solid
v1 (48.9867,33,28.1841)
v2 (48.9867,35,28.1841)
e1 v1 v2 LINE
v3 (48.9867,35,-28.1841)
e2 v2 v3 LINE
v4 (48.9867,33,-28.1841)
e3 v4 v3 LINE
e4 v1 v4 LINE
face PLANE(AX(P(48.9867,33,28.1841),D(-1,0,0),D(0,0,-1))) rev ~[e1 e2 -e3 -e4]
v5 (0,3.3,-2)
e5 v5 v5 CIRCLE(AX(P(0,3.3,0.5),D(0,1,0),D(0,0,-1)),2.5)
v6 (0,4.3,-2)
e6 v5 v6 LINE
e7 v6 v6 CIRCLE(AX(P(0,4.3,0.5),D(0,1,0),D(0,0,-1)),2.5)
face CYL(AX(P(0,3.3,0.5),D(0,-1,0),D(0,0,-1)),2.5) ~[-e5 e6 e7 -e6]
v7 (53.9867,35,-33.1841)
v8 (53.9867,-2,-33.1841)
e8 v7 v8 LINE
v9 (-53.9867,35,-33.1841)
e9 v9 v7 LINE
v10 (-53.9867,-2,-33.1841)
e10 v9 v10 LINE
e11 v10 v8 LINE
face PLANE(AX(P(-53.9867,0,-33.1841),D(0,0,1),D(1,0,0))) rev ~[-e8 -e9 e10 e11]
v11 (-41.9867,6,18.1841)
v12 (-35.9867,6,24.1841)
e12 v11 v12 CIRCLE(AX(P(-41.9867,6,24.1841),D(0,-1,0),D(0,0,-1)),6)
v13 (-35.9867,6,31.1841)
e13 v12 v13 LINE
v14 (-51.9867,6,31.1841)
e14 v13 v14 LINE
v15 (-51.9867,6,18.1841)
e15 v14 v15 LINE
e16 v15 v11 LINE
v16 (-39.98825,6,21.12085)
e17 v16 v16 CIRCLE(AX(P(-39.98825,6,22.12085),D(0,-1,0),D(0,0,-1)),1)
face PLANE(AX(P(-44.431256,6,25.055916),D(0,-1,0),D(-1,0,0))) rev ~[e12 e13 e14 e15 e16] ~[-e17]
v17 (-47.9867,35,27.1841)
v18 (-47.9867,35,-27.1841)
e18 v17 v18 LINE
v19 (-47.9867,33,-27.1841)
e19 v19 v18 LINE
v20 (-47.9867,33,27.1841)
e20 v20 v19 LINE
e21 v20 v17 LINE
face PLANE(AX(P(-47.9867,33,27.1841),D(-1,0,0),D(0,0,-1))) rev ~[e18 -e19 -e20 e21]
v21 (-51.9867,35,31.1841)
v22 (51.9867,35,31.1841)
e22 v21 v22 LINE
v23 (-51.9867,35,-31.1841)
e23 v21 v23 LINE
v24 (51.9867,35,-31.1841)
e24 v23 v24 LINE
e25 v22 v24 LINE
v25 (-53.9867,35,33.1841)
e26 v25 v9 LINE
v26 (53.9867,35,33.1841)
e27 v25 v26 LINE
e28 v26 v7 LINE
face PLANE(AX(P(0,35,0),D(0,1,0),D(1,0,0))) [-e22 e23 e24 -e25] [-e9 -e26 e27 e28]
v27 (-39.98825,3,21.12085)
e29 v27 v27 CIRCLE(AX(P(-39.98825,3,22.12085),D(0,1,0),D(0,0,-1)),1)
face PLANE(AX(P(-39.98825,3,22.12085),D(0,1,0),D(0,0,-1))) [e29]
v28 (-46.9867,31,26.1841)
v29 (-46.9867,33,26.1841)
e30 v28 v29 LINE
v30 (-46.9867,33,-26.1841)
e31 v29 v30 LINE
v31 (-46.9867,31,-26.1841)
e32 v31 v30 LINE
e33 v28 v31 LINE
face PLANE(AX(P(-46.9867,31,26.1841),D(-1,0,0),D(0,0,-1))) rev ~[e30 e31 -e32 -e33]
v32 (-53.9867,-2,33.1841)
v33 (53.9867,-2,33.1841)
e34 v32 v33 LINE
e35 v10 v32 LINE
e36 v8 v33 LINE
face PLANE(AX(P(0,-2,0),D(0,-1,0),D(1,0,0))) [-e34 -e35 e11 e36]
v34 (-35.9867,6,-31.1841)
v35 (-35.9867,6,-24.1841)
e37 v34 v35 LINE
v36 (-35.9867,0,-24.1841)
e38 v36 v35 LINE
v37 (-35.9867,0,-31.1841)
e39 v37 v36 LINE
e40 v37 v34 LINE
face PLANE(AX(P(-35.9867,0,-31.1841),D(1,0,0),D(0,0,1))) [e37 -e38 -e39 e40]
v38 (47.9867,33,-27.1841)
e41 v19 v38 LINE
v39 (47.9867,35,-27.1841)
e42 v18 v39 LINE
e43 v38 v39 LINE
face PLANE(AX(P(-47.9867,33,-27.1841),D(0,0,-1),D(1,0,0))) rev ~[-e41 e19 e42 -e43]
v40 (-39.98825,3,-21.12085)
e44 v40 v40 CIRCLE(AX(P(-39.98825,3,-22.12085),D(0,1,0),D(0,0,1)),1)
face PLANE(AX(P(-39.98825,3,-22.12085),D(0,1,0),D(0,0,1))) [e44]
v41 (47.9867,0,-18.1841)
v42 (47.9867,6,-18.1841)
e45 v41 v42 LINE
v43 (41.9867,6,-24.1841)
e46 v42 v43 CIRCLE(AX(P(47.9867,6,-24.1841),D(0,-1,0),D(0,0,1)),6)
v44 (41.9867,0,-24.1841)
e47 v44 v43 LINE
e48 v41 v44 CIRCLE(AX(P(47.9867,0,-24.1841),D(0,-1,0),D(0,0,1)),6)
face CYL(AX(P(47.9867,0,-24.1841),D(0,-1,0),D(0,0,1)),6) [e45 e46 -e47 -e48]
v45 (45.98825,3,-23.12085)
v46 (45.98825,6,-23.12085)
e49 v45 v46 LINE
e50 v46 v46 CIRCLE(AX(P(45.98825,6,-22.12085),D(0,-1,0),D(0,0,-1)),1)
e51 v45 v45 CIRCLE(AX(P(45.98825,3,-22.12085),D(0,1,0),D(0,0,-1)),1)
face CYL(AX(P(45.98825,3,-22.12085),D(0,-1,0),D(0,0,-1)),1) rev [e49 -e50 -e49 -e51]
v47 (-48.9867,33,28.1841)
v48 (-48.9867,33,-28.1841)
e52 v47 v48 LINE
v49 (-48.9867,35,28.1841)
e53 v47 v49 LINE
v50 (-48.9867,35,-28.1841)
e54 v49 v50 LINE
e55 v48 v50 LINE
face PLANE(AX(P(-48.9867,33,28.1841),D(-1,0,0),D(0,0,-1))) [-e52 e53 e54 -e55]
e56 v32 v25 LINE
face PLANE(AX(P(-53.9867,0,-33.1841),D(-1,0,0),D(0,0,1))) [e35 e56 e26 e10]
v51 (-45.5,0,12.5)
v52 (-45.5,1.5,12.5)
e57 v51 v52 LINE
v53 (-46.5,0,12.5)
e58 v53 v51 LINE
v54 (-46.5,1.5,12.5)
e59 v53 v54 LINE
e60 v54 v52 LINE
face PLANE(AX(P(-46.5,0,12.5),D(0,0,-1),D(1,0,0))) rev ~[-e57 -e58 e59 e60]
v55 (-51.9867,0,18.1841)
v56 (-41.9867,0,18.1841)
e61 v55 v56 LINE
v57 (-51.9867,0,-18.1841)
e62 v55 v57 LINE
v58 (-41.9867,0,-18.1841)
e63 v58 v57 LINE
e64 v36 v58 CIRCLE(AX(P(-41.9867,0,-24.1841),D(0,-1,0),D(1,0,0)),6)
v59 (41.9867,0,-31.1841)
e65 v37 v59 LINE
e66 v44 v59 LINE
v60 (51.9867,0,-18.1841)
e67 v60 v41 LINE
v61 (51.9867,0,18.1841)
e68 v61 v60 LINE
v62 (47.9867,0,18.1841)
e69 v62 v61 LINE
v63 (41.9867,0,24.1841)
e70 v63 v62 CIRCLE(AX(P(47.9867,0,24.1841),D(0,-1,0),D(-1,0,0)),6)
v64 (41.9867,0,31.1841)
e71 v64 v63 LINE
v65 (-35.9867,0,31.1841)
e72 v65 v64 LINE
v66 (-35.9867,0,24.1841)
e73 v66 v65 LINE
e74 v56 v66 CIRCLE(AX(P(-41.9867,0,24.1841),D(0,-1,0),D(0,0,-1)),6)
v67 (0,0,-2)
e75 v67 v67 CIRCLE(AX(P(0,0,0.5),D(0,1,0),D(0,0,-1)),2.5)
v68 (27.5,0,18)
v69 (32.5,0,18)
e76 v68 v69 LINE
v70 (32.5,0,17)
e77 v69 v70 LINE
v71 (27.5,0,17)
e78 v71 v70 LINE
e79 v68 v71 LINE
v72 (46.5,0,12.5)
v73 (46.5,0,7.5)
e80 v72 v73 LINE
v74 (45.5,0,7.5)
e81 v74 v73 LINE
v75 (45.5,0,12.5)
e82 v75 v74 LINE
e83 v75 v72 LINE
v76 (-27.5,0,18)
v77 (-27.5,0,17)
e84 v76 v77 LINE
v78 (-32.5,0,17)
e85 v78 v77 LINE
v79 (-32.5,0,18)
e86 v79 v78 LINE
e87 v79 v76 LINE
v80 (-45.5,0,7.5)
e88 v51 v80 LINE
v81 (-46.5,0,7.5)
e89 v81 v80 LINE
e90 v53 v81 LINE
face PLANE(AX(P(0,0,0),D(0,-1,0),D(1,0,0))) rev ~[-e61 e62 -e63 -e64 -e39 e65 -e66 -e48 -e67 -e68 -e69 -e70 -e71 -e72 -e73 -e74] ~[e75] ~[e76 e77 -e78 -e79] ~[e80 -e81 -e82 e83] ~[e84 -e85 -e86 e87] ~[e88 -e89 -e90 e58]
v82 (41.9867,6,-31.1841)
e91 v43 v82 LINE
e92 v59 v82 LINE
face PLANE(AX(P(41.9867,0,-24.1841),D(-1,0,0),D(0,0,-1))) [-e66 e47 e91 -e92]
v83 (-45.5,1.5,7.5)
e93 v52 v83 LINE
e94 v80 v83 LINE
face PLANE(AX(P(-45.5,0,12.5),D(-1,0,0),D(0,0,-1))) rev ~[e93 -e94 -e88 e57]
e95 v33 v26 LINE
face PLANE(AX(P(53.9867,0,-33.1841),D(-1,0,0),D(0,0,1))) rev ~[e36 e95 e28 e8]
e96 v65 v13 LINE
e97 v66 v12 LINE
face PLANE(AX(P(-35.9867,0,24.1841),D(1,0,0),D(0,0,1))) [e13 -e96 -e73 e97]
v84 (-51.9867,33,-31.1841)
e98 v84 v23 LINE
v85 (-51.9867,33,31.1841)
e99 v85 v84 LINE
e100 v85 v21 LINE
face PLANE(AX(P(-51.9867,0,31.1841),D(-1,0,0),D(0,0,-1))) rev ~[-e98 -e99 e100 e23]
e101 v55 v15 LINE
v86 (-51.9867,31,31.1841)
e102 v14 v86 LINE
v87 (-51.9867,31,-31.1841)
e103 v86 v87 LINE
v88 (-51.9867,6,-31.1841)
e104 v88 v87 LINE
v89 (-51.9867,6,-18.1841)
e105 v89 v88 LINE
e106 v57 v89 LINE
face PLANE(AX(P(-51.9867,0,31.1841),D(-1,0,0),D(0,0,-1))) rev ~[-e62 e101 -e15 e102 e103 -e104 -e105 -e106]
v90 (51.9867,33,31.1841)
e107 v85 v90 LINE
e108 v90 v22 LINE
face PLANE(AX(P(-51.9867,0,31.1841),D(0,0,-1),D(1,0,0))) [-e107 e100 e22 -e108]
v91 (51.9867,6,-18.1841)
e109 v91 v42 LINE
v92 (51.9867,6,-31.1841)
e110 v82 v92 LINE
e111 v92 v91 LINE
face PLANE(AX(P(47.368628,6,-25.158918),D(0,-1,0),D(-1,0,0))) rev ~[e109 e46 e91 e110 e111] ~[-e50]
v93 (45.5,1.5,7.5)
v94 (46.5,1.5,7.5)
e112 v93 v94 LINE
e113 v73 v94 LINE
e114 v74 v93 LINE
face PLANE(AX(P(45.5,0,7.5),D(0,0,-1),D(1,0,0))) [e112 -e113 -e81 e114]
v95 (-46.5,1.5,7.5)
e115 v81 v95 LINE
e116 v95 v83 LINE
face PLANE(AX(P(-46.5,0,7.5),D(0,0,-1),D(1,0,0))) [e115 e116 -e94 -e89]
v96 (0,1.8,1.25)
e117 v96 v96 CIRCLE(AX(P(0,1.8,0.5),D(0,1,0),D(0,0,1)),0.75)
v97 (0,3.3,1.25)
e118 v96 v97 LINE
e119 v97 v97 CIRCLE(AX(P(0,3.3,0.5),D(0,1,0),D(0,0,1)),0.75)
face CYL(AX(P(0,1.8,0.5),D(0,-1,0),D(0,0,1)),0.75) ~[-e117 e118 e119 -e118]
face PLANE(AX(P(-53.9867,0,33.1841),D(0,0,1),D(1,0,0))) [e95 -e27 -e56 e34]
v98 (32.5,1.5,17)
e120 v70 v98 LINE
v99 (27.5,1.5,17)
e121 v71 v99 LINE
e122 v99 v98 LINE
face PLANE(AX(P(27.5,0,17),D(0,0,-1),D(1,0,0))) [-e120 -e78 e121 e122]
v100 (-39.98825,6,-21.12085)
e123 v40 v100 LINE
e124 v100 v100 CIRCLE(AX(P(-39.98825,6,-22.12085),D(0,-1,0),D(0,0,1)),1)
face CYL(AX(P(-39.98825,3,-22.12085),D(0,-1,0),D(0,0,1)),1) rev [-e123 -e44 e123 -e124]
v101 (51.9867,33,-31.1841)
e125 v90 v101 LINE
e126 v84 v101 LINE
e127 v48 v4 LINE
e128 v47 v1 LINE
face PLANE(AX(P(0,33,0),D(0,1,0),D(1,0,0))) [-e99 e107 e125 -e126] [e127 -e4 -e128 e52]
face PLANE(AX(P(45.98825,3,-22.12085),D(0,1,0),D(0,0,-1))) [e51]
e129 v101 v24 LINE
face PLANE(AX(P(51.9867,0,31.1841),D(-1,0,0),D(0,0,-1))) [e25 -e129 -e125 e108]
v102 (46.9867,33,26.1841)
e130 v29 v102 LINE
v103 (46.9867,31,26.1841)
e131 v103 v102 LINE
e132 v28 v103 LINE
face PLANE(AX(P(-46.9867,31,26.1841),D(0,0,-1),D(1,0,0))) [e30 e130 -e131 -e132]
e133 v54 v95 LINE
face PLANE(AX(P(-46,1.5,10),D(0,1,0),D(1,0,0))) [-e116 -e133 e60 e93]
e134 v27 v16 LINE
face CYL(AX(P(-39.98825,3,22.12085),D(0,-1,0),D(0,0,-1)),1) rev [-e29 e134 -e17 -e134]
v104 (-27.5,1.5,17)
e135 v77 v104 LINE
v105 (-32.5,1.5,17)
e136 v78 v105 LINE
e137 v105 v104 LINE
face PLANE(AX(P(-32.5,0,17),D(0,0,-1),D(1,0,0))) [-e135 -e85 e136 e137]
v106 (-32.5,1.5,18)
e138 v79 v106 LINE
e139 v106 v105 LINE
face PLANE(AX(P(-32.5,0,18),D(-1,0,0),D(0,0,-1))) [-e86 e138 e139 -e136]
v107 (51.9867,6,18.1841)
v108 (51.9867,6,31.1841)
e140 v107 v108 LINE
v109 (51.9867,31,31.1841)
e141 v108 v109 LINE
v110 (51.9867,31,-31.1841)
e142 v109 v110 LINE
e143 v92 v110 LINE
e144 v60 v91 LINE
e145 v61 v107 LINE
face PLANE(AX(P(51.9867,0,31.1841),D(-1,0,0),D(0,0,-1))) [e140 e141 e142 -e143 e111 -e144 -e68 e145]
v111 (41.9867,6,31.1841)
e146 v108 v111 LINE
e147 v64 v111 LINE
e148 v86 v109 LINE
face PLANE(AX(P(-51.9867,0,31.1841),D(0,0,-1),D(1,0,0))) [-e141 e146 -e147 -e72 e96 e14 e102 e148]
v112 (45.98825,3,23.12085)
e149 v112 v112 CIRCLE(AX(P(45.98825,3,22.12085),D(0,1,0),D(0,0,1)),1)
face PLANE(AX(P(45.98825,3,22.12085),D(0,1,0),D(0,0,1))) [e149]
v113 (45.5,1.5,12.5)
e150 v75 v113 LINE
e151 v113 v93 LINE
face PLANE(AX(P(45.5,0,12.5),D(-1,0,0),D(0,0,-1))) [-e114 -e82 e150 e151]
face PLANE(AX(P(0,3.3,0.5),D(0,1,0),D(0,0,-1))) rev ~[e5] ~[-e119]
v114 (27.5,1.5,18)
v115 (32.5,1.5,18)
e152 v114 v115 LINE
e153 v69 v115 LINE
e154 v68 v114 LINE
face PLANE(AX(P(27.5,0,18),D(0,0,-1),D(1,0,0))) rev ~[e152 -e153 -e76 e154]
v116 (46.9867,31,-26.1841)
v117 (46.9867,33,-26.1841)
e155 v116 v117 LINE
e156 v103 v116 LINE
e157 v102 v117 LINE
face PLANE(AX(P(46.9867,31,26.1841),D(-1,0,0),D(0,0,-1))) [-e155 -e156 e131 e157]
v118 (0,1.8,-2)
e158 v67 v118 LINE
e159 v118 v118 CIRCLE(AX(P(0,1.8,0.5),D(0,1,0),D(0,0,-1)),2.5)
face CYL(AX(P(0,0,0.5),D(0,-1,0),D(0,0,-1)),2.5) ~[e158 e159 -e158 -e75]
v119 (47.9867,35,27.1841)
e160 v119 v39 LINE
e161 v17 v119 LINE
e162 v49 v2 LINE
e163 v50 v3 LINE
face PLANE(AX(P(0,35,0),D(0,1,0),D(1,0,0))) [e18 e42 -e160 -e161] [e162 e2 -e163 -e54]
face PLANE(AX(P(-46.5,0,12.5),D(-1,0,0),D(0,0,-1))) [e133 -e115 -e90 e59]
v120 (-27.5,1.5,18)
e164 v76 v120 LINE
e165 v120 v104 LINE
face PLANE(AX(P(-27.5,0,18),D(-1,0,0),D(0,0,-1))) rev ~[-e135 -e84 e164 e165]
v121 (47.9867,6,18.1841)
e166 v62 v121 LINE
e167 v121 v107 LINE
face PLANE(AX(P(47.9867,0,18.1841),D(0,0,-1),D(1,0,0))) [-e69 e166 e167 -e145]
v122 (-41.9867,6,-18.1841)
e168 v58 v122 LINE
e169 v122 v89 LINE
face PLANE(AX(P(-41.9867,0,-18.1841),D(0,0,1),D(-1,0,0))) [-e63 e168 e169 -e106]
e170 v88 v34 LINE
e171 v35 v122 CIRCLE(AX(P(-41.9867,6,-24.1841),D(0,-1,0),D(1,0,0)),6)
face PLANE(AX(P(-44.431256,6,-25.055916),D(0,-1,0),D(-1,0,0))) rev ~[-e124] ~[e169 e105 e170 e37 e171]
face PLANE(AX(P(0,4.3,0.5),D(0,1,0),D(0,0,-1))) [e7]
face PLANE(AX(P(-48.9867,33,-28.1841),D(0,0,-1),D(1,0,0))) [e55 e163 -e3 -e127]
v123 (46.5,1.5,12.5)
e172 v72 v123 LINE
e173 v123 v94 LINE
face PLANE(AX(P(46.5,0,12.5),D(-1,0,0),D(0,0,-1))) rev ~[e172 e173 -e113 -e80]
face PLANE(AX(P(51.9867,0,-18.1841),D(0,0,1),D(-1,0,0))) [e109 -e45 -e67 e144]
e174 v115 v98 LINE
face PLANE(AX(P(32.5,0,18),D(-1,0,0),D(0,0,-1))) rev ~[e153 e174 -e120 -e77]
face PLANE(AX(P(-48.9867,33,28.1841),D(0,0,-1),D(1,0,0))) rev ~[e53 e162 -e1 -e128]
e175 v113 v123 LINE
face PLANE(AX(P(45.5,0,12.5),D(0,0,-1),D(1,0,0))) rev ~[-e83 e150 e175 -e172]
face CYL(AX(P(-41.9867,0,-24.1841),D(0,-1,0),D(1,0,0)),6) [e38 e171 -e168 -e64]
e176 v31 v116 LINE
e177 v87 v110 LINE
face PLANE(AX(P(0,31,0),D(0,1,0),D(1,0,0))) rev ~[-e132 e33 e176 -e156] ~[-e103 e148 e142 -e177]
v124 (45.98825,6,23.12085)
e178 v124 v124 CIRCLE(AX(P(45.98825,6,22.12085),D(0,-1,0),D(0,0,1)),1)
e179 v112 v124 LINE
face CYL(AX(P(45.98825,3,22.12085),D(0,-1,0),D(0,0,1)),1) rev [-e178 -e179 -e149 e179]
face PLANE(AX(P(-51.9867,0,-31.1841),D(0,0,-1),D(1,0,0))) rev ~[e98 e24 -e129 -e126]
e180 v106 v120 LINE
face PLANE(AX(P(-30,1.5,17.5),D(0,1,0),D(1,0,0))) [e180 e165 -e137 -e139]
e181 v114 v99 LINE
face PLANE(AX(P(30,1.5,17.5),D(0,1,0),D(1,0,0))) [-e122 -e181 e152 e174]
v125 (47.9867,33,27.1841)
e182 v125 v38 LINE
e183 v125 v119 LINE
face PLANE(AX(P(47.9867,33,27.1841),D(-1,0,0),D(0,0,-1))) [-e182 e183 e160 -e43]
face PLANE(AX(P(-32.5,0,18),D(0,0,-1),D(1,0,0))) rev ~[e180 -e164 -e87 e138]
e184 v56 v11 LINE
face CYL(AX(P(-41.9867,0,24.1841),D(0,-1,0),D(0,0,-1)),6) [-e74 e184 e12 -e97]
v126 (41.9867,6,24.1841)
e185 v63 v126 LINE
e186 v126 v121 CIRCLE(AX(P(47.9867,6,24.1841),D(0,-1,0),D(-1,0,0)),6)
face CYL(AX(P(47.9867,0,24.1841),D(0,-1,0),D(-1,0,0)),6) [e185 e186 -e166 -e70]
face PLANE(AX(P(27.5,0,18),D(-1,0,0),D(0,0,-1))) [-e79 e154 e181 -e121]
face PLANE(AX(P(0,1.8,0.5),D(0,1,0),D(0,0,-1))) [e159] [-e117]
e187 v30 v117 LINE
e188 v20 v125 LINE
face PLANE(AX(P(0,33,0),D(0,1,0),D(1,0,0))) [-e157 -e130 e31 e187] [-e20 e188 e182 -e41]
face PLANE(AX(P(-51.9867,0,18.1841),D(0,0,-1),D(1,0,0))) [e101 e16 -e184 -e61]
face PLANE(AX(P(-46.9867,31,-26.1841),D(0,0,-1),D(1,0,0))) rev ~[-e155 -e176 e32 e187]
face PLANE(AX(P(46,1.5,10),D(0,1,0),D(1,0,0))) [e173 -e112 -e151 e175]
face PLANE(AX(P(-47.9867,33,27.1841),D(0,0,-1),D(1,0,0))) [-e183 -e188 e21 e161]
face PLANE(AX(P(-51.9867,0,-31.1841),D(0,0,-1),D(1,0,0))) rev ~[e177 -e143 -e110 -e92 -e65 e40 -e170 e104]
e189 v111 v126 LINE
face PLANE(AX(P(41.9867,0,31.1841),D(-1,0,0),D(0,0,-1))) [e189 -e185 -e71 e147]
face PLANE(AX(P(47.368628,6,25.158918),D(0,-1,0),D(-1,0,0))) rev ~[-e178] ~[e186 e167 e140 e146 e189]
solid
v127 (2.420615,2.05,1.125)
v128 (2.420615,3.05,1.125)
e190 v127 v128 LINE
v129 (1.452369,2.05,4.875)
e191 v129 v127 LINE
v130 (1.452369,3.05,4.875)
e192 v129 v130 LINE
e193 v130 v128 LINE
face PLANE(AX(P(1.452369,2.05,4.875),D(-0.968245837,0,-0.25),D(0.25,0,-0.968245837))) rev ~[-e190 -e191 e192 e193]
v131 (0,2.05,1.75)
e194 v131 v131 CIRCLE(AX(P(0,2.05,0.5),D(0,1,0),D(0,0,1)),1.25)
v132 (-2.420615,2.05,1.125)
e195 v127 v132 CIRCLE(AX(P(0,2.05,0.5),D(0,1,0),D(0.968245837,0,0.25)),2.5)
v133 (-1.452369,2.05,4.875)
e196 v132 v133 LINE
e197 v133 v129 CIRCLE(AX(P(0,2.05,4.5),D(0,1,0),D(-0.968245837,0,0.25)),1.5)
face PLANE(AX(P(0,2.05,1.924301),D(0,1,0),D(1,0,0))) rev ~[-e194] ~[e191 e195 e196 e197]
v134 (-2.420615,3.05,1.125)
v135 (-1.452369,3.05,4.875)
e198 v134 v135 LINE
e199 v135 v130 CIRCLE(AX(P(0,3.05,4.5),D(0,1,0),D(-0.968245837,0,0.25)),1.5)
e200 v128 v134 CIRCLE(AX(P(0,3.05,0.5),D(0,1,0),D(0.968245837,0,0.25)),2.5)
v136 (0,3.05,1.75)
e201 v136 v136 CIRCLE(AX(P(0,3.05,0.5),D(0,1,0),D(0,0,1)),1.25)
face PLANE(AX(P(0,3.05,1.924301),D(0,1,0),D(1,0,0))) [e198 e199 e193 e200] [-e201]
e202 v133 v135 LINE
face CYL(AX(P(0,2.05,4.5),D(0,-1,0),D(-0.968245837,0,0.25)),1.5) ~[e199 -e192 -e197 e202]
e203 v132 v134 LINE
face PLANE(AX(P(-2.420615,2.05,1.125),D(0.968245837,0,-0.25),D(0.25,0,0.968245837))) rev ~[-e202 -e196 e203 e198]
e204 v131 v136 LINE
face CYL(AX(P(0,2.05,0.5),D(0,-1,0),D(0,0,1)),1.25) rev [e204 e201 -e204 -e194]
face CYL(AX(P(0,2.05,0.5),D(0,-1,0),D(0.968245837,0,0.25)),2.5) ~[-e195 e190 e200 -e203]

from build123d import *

# Parameters (mm, degrees)
SKETCH1_W            = 107.9734
SKETCH1_H            = 66.3682
SKETCH1_W_2          = 103.9734
SKETCH1_H_2          = 62.3682
BOSS_EXTRUDE1_DEPTH  = 35
SKETCH2_W            = 107.9734
SKETCH2_H            = 66.3682
BOSS_EXTRUDE2_DEPTH  = 2
BOSS_EXTRUDE3_DEPTH  = 6
CUT_EXTRUDE1_REACH   = 77.393
CUT_EXTRUDE1_START   = 3
SKETCH4_R            = 1
SKETCH5_W            = 103.9734
SKETCH5_H            = 62.3682
SKETCH5_W_2          = 93.9734
SKETCH5_H_2          = 52.3682
BOSS_EXTRUDE4_DEPTH  = 2
SKETCH6_W            = 97.9734
SKETCH6_H            = 56.3682
SKETCH6_W_2          = 95.9734
SKETCH6_H_2          = 54.3682
BOSS_EXTRUDE5_DEPTH  = 2
SKETCH8_W            = 1
SKETCH8_H            = 5
SKETCH8_W_2          = 5
SKETCH8_H_2          = 1
BOSS_EXTRUDE6_DEPTH  = 1.5
SKETCH9_R            = 2.5
BOSS_EXTRUDE7_DEPTH  = 1.8
SKETCH12_R           = 0.75
BOSS_EXTRUDE8_DEPTH  = 1.5
BOSS_EXTRUDE9_START  = 0.25
SKETCH13_R           = 1.25
BOSS_EXTRUDE9_DEPTH  = 1
SKETCH14_R           = 2.5
BOSS_EXTRUDE10_DEPTH = 1


with BuildPart() as part:
    # Sketch1 → Boss-Extrude1 (new body)
    with BuildSketch(Plane(origin=(0, 0, 0), x_dir=(1, 0, 0), z_dir=(0, 1, 0))):
        Rectangle(SKETCH1_W, SKETCH1_H)
        Rectangle(SKETCH1_W_2, SKETCH1_H_2, mode=Mode.SUBTRACT)
    extrude(amount=BOSS_EXTRUDE1_DEPTH)

    # Sketch2 → Boss-Extrude2 (add)
    with BuildSketch(Plane.XZ):
        Rectangle(SKETCH2_W, SKETCH2_H)
    extrude(amount=BOSS_EXTRUDE2_DEPTH)

    # Sketch3 → Boss-Extrude3 (add)
    with BuildSketch(Plane(origin=(0, 0, 0), x_dir=(1, 0, 0), z_dir=(0, 1, 0))):
        with BuildLine():
            Line((-51.9867, 18.1841), (-51.9867, 31.1841))
            Line((-51.9867, 31.1841), (-35.9867, 31.1841))
            Line((-35.9867, 31.1841), (-35.9867, 24.1841))
            ThreePointArc((-35.9867, 24.1841), (-37.744059313, 19.941459313), (-41.9867, 18.1841))
            Line((-41.9867, 18.1841), (-51.9867, 18.1841))
        make_face()
        with BuildLine():
            Line((51.9867, 18.1841), (47.9867, 18.1841))
            ThreePointArc((47.9867, 18.1841), (43.744059313, 19.941459313), (41.9867, 24.1841))
            Line((41.9867, 24.1841), (41.9867, 31.1841))
            Line((41.9867, 31.1841), (51.9867, 31.1841))
            Line((51.9867, 31.1841), (51.9867, 18.1841))
        make_face()
        with BuildLine():
            Line((41.9867, -31.1841), (41.9867, -24.1841))
            ThreePointArc((41.9867, -24.1841), (43.744059313, -19.941459313), (47.9867, -18.1841))
            Line((47.9867, -18.1841), (51.9867, -18.1841))
            Line((51.9867, -18.1841), (51.9867, -31.1841))
            Line((51.9867, -31.1841), (41.9867, -31.1841))
        make_face()
        with BuildLine():
            Line((-51.9867, -18.1841), (-41.9867, -18.1841))
            ThreePointArc((-41.9867, -18.1841), (-37.744059313, -19.941459313), (-35.9867, -24.1841))
            Line((-35.9867, -24.1841), (-35.9867, -31.1841))
            Line((-35.9867, -31.1841), (-51.9867, -31.1841))
            Line((-51.9867, -31.1841), (-51.9867, -18.1841))
        make_face()
    extrude(amount=BOSS_EXTRUDE3_DEPTH)

    # Sketch4 → Cut-Extrude1 (cut, up to next)
    with BuildSketch(Plane(origin=(0, 0, 0), x_dir=(1, 0, 0), z_dir=(0, 1, 0)).offset(CUT_EXTRUDE1_START), mode=Mode.PRIVATE) as cut_extrude1_sk1:
        with Locations(Location((-39.98825, 22.12085, 0), (0, 0, 270))):
            Circle(SKETCH4_R)
    cut_extrude1_tool1 = extrude(cut_extrude1_sk1.sketch, amount=CUT_EXTRUDE1_REACH, mode=Mode.PRIVATE) & part.part
    # Sketch4 → Cut-Extrude1 (cut, up to next)
    with BuildSketch(Plane(origin=(0, 0, 0), x_dir=(1, 0, 0), z_dir=(0, 1, 0)).offset(CUT_EXTRUDE1_START), mode=Mode.PRIVATE) as cut_extrude1_sk2:
        with Locations(Location((45.98825, 22.12085, 0), (0, 0, 90))):
            Circle(SKETCH4_R)
    cut_extrude1_tool2 = extrude(cut_extrude1_sk2.sketch, amount=CUT_EXTRUDE1_REACH, mode=Mode.PRIVATE) & part.part
    # Sketch4 → Cut-Extrude1 (cut, up to next)
    with BuildSketch(Plane(origin=(0, 0, 0), x_dir=(1, 0, 0), z_dir=(0, 1, 0)).offset(CUT_EXTRUDE1_START), mode=Mode.PRIVATE) as cut_extrude1_sk3:
        with Locations(Location((45.98825, -22.12085, 0), (0, 0, 270))):
            Circle(SKETCH4_R)
    cut_extrude1_tool3 = extrude(cut_extrude1_sk3.sketch, amount=CUT_EXTRUDE1_REACH, mode=Mode.PRIVATE) & part.part
    # Sketch4 → Cut-Extrude1 (cut, up to next)
    with BuildSketch(Plane(origin=(0, 0, 0), x_dir=(1, 0, 0), z_dir=(0, 1, 0)).offset(CUT_EXTRUDE1_START), mode=Mode.PRIVATE) as cut_extrude1_sk4:
        with Locations(Location((-39.98825, -22.12085, 0), (0, 0, 90))):
            Circle(SKETCH4_R)
    cut_extrude1_tool4 = extrude(cut_extrude1_sk4.sketch, amount=CUT_EXTRUDE1_REACH, mode=Mode.PRIVATE) & part.part
    add(cut_extrude1_tool1.solids().sort_by_distance((-39.98825, 3, -22.12085))[0], mode=Mode.SUBTRACT)
    add(cut_extrude1_tool2.solids().sort_by_distance((45.98825, 3, -22.12085))[0], mode=Mode.SUBTRACT)
    add(cut_extrude1_tool3.solids().sort_by_distance((45.98825, 3, 22.12085))[0], mode=Mode.SUBTRACT)
    add(cut_extrude1_tool4.solids().sort_by_distance((-39.98825, 3, 22.12085))[0], mode=Mode.SUBTRACT)

    # Sketch5 → Boss-Extrude4 (add)
    with BuildSketch(Plane(origin=(0, 31, 0), x_dir=(1, 0, 0), z_dir=(0, 1, 0))):
        Rectangle(SKETCH5_W, SKETCH5_H)
        Rectangle(SKETCH5_W_2, SKETCH5_H_2, mode=Mode.SUBTRACT)
    extrude(amount=BOSS_EXTRUDE4_DEPTH)

    # Sketch6 → Boss-Extrude5 (add)
    with BuildSketch(Plane(origin=(0, 33, 0), x_dir=(1, 0, 0), z_dir=(0, 1, 0))):
        Rectangle(SKETCH6_W, SKETCH6_H)
        Rectangle(SKETCH6_W_2, SKETCH6_H_2, mode=Mode.SUBTRACT)
    extrude(amount=BOSS_EXTRUDE5_DEPTH)

    # Sketch8 → Boss-Extrude6 (add)
    with BuildSketch(Plane(origin=(0, 0, 0), x_dir=(1, 0, 0), z_dir=(0, 1, 0))):
        with Locations((-46, -10)):
            Rectangle(SKETCH8_W, SKETCH8_H)
        with Locations((46, -10)):
            Rectangle(SKETCH8_W, SKETCH8_H)
        with Locations((-30, -17.5)):
            Rectangle(SKETCH8_W_2, SKETCH8_H_2)
        with Locations((30, -17.5)):
            Rectangle(SKETCH8_W_2, SKETCH8_H_2)
    extrude(amount=BOSS_EXTRUDE6_DEPTH)

    # Sketch9 → Boss-Extrude7 (add)
    with BuildSketch(Plane(origin=(0, 0, 0), x_dir=(1, 0, 0), z_dir=(0, 1, 0))):
        with Locations(Location((0, -0.5, 0), (0, 0, 90))):
            Circle(SKETCH9_R)
    extrude(amount=BOSS_EXTRUDE7_DEPTH)

    # Sketch12 → Boss-Extrude8 (add)
    with BuildSketch(Plane(origin=(0, 1.8, 0), x_dir=(1, 0, 0), z_dir=(0, 1, 0))):
        with Locations(Location((0, -0.5, 0), (0, 0, 270))):
            Circle(SKETCH12_R)
    extrude(amount=BOSS_EXTRUDE8_DEPTH)

    # Sketch14 → Boss-Extrude10 (add)
    with BuildSketch(Plane(origin=(0, 3.3, 0), x_dir=(1, 0, 0), z_dir=(0, 1, 0))):
        with Locations(Location((0, -0.5, 0), (0, 0, 90))):
            Circle(SKETCH14_R)
    extrude(amount=BOSS_EXTRUDE10_DEPTH)


with BuildPart() as body_2:
    # Sketch13 → Boss-Extrude9 (new body)
    with BuildSketch(Plane(origin=(0, 1.8, 0), x_dir=(1, 0, 0), z_dir=(0, 1, 0)).offset(BOSS_EXTRUDE9_START)):
        with BuildLine():
            Line((-2.420614591, -1.125), (-1.452368755, -4.875))
            ThreePointArc((-1.452368755, -4.875), (0, -6), (1.452368755, -4.875))
            Line((1.452368755, -4.875), (2.420614591, -1.125))
            ThreePointArc((2.420614591, -1.125), (0, 2), (-2.420614591, -1.125))
        make_face()
        with Locations(Location((0, -0.5, 0), (0, 0, 270))):
            Circle(SKETCH13_R, mode=Mode.SUBTRACT)
    extrude(amount=BOSS_EXTRUDE9_DEPTH)


solid = Compound([part.part, body_2.part])
